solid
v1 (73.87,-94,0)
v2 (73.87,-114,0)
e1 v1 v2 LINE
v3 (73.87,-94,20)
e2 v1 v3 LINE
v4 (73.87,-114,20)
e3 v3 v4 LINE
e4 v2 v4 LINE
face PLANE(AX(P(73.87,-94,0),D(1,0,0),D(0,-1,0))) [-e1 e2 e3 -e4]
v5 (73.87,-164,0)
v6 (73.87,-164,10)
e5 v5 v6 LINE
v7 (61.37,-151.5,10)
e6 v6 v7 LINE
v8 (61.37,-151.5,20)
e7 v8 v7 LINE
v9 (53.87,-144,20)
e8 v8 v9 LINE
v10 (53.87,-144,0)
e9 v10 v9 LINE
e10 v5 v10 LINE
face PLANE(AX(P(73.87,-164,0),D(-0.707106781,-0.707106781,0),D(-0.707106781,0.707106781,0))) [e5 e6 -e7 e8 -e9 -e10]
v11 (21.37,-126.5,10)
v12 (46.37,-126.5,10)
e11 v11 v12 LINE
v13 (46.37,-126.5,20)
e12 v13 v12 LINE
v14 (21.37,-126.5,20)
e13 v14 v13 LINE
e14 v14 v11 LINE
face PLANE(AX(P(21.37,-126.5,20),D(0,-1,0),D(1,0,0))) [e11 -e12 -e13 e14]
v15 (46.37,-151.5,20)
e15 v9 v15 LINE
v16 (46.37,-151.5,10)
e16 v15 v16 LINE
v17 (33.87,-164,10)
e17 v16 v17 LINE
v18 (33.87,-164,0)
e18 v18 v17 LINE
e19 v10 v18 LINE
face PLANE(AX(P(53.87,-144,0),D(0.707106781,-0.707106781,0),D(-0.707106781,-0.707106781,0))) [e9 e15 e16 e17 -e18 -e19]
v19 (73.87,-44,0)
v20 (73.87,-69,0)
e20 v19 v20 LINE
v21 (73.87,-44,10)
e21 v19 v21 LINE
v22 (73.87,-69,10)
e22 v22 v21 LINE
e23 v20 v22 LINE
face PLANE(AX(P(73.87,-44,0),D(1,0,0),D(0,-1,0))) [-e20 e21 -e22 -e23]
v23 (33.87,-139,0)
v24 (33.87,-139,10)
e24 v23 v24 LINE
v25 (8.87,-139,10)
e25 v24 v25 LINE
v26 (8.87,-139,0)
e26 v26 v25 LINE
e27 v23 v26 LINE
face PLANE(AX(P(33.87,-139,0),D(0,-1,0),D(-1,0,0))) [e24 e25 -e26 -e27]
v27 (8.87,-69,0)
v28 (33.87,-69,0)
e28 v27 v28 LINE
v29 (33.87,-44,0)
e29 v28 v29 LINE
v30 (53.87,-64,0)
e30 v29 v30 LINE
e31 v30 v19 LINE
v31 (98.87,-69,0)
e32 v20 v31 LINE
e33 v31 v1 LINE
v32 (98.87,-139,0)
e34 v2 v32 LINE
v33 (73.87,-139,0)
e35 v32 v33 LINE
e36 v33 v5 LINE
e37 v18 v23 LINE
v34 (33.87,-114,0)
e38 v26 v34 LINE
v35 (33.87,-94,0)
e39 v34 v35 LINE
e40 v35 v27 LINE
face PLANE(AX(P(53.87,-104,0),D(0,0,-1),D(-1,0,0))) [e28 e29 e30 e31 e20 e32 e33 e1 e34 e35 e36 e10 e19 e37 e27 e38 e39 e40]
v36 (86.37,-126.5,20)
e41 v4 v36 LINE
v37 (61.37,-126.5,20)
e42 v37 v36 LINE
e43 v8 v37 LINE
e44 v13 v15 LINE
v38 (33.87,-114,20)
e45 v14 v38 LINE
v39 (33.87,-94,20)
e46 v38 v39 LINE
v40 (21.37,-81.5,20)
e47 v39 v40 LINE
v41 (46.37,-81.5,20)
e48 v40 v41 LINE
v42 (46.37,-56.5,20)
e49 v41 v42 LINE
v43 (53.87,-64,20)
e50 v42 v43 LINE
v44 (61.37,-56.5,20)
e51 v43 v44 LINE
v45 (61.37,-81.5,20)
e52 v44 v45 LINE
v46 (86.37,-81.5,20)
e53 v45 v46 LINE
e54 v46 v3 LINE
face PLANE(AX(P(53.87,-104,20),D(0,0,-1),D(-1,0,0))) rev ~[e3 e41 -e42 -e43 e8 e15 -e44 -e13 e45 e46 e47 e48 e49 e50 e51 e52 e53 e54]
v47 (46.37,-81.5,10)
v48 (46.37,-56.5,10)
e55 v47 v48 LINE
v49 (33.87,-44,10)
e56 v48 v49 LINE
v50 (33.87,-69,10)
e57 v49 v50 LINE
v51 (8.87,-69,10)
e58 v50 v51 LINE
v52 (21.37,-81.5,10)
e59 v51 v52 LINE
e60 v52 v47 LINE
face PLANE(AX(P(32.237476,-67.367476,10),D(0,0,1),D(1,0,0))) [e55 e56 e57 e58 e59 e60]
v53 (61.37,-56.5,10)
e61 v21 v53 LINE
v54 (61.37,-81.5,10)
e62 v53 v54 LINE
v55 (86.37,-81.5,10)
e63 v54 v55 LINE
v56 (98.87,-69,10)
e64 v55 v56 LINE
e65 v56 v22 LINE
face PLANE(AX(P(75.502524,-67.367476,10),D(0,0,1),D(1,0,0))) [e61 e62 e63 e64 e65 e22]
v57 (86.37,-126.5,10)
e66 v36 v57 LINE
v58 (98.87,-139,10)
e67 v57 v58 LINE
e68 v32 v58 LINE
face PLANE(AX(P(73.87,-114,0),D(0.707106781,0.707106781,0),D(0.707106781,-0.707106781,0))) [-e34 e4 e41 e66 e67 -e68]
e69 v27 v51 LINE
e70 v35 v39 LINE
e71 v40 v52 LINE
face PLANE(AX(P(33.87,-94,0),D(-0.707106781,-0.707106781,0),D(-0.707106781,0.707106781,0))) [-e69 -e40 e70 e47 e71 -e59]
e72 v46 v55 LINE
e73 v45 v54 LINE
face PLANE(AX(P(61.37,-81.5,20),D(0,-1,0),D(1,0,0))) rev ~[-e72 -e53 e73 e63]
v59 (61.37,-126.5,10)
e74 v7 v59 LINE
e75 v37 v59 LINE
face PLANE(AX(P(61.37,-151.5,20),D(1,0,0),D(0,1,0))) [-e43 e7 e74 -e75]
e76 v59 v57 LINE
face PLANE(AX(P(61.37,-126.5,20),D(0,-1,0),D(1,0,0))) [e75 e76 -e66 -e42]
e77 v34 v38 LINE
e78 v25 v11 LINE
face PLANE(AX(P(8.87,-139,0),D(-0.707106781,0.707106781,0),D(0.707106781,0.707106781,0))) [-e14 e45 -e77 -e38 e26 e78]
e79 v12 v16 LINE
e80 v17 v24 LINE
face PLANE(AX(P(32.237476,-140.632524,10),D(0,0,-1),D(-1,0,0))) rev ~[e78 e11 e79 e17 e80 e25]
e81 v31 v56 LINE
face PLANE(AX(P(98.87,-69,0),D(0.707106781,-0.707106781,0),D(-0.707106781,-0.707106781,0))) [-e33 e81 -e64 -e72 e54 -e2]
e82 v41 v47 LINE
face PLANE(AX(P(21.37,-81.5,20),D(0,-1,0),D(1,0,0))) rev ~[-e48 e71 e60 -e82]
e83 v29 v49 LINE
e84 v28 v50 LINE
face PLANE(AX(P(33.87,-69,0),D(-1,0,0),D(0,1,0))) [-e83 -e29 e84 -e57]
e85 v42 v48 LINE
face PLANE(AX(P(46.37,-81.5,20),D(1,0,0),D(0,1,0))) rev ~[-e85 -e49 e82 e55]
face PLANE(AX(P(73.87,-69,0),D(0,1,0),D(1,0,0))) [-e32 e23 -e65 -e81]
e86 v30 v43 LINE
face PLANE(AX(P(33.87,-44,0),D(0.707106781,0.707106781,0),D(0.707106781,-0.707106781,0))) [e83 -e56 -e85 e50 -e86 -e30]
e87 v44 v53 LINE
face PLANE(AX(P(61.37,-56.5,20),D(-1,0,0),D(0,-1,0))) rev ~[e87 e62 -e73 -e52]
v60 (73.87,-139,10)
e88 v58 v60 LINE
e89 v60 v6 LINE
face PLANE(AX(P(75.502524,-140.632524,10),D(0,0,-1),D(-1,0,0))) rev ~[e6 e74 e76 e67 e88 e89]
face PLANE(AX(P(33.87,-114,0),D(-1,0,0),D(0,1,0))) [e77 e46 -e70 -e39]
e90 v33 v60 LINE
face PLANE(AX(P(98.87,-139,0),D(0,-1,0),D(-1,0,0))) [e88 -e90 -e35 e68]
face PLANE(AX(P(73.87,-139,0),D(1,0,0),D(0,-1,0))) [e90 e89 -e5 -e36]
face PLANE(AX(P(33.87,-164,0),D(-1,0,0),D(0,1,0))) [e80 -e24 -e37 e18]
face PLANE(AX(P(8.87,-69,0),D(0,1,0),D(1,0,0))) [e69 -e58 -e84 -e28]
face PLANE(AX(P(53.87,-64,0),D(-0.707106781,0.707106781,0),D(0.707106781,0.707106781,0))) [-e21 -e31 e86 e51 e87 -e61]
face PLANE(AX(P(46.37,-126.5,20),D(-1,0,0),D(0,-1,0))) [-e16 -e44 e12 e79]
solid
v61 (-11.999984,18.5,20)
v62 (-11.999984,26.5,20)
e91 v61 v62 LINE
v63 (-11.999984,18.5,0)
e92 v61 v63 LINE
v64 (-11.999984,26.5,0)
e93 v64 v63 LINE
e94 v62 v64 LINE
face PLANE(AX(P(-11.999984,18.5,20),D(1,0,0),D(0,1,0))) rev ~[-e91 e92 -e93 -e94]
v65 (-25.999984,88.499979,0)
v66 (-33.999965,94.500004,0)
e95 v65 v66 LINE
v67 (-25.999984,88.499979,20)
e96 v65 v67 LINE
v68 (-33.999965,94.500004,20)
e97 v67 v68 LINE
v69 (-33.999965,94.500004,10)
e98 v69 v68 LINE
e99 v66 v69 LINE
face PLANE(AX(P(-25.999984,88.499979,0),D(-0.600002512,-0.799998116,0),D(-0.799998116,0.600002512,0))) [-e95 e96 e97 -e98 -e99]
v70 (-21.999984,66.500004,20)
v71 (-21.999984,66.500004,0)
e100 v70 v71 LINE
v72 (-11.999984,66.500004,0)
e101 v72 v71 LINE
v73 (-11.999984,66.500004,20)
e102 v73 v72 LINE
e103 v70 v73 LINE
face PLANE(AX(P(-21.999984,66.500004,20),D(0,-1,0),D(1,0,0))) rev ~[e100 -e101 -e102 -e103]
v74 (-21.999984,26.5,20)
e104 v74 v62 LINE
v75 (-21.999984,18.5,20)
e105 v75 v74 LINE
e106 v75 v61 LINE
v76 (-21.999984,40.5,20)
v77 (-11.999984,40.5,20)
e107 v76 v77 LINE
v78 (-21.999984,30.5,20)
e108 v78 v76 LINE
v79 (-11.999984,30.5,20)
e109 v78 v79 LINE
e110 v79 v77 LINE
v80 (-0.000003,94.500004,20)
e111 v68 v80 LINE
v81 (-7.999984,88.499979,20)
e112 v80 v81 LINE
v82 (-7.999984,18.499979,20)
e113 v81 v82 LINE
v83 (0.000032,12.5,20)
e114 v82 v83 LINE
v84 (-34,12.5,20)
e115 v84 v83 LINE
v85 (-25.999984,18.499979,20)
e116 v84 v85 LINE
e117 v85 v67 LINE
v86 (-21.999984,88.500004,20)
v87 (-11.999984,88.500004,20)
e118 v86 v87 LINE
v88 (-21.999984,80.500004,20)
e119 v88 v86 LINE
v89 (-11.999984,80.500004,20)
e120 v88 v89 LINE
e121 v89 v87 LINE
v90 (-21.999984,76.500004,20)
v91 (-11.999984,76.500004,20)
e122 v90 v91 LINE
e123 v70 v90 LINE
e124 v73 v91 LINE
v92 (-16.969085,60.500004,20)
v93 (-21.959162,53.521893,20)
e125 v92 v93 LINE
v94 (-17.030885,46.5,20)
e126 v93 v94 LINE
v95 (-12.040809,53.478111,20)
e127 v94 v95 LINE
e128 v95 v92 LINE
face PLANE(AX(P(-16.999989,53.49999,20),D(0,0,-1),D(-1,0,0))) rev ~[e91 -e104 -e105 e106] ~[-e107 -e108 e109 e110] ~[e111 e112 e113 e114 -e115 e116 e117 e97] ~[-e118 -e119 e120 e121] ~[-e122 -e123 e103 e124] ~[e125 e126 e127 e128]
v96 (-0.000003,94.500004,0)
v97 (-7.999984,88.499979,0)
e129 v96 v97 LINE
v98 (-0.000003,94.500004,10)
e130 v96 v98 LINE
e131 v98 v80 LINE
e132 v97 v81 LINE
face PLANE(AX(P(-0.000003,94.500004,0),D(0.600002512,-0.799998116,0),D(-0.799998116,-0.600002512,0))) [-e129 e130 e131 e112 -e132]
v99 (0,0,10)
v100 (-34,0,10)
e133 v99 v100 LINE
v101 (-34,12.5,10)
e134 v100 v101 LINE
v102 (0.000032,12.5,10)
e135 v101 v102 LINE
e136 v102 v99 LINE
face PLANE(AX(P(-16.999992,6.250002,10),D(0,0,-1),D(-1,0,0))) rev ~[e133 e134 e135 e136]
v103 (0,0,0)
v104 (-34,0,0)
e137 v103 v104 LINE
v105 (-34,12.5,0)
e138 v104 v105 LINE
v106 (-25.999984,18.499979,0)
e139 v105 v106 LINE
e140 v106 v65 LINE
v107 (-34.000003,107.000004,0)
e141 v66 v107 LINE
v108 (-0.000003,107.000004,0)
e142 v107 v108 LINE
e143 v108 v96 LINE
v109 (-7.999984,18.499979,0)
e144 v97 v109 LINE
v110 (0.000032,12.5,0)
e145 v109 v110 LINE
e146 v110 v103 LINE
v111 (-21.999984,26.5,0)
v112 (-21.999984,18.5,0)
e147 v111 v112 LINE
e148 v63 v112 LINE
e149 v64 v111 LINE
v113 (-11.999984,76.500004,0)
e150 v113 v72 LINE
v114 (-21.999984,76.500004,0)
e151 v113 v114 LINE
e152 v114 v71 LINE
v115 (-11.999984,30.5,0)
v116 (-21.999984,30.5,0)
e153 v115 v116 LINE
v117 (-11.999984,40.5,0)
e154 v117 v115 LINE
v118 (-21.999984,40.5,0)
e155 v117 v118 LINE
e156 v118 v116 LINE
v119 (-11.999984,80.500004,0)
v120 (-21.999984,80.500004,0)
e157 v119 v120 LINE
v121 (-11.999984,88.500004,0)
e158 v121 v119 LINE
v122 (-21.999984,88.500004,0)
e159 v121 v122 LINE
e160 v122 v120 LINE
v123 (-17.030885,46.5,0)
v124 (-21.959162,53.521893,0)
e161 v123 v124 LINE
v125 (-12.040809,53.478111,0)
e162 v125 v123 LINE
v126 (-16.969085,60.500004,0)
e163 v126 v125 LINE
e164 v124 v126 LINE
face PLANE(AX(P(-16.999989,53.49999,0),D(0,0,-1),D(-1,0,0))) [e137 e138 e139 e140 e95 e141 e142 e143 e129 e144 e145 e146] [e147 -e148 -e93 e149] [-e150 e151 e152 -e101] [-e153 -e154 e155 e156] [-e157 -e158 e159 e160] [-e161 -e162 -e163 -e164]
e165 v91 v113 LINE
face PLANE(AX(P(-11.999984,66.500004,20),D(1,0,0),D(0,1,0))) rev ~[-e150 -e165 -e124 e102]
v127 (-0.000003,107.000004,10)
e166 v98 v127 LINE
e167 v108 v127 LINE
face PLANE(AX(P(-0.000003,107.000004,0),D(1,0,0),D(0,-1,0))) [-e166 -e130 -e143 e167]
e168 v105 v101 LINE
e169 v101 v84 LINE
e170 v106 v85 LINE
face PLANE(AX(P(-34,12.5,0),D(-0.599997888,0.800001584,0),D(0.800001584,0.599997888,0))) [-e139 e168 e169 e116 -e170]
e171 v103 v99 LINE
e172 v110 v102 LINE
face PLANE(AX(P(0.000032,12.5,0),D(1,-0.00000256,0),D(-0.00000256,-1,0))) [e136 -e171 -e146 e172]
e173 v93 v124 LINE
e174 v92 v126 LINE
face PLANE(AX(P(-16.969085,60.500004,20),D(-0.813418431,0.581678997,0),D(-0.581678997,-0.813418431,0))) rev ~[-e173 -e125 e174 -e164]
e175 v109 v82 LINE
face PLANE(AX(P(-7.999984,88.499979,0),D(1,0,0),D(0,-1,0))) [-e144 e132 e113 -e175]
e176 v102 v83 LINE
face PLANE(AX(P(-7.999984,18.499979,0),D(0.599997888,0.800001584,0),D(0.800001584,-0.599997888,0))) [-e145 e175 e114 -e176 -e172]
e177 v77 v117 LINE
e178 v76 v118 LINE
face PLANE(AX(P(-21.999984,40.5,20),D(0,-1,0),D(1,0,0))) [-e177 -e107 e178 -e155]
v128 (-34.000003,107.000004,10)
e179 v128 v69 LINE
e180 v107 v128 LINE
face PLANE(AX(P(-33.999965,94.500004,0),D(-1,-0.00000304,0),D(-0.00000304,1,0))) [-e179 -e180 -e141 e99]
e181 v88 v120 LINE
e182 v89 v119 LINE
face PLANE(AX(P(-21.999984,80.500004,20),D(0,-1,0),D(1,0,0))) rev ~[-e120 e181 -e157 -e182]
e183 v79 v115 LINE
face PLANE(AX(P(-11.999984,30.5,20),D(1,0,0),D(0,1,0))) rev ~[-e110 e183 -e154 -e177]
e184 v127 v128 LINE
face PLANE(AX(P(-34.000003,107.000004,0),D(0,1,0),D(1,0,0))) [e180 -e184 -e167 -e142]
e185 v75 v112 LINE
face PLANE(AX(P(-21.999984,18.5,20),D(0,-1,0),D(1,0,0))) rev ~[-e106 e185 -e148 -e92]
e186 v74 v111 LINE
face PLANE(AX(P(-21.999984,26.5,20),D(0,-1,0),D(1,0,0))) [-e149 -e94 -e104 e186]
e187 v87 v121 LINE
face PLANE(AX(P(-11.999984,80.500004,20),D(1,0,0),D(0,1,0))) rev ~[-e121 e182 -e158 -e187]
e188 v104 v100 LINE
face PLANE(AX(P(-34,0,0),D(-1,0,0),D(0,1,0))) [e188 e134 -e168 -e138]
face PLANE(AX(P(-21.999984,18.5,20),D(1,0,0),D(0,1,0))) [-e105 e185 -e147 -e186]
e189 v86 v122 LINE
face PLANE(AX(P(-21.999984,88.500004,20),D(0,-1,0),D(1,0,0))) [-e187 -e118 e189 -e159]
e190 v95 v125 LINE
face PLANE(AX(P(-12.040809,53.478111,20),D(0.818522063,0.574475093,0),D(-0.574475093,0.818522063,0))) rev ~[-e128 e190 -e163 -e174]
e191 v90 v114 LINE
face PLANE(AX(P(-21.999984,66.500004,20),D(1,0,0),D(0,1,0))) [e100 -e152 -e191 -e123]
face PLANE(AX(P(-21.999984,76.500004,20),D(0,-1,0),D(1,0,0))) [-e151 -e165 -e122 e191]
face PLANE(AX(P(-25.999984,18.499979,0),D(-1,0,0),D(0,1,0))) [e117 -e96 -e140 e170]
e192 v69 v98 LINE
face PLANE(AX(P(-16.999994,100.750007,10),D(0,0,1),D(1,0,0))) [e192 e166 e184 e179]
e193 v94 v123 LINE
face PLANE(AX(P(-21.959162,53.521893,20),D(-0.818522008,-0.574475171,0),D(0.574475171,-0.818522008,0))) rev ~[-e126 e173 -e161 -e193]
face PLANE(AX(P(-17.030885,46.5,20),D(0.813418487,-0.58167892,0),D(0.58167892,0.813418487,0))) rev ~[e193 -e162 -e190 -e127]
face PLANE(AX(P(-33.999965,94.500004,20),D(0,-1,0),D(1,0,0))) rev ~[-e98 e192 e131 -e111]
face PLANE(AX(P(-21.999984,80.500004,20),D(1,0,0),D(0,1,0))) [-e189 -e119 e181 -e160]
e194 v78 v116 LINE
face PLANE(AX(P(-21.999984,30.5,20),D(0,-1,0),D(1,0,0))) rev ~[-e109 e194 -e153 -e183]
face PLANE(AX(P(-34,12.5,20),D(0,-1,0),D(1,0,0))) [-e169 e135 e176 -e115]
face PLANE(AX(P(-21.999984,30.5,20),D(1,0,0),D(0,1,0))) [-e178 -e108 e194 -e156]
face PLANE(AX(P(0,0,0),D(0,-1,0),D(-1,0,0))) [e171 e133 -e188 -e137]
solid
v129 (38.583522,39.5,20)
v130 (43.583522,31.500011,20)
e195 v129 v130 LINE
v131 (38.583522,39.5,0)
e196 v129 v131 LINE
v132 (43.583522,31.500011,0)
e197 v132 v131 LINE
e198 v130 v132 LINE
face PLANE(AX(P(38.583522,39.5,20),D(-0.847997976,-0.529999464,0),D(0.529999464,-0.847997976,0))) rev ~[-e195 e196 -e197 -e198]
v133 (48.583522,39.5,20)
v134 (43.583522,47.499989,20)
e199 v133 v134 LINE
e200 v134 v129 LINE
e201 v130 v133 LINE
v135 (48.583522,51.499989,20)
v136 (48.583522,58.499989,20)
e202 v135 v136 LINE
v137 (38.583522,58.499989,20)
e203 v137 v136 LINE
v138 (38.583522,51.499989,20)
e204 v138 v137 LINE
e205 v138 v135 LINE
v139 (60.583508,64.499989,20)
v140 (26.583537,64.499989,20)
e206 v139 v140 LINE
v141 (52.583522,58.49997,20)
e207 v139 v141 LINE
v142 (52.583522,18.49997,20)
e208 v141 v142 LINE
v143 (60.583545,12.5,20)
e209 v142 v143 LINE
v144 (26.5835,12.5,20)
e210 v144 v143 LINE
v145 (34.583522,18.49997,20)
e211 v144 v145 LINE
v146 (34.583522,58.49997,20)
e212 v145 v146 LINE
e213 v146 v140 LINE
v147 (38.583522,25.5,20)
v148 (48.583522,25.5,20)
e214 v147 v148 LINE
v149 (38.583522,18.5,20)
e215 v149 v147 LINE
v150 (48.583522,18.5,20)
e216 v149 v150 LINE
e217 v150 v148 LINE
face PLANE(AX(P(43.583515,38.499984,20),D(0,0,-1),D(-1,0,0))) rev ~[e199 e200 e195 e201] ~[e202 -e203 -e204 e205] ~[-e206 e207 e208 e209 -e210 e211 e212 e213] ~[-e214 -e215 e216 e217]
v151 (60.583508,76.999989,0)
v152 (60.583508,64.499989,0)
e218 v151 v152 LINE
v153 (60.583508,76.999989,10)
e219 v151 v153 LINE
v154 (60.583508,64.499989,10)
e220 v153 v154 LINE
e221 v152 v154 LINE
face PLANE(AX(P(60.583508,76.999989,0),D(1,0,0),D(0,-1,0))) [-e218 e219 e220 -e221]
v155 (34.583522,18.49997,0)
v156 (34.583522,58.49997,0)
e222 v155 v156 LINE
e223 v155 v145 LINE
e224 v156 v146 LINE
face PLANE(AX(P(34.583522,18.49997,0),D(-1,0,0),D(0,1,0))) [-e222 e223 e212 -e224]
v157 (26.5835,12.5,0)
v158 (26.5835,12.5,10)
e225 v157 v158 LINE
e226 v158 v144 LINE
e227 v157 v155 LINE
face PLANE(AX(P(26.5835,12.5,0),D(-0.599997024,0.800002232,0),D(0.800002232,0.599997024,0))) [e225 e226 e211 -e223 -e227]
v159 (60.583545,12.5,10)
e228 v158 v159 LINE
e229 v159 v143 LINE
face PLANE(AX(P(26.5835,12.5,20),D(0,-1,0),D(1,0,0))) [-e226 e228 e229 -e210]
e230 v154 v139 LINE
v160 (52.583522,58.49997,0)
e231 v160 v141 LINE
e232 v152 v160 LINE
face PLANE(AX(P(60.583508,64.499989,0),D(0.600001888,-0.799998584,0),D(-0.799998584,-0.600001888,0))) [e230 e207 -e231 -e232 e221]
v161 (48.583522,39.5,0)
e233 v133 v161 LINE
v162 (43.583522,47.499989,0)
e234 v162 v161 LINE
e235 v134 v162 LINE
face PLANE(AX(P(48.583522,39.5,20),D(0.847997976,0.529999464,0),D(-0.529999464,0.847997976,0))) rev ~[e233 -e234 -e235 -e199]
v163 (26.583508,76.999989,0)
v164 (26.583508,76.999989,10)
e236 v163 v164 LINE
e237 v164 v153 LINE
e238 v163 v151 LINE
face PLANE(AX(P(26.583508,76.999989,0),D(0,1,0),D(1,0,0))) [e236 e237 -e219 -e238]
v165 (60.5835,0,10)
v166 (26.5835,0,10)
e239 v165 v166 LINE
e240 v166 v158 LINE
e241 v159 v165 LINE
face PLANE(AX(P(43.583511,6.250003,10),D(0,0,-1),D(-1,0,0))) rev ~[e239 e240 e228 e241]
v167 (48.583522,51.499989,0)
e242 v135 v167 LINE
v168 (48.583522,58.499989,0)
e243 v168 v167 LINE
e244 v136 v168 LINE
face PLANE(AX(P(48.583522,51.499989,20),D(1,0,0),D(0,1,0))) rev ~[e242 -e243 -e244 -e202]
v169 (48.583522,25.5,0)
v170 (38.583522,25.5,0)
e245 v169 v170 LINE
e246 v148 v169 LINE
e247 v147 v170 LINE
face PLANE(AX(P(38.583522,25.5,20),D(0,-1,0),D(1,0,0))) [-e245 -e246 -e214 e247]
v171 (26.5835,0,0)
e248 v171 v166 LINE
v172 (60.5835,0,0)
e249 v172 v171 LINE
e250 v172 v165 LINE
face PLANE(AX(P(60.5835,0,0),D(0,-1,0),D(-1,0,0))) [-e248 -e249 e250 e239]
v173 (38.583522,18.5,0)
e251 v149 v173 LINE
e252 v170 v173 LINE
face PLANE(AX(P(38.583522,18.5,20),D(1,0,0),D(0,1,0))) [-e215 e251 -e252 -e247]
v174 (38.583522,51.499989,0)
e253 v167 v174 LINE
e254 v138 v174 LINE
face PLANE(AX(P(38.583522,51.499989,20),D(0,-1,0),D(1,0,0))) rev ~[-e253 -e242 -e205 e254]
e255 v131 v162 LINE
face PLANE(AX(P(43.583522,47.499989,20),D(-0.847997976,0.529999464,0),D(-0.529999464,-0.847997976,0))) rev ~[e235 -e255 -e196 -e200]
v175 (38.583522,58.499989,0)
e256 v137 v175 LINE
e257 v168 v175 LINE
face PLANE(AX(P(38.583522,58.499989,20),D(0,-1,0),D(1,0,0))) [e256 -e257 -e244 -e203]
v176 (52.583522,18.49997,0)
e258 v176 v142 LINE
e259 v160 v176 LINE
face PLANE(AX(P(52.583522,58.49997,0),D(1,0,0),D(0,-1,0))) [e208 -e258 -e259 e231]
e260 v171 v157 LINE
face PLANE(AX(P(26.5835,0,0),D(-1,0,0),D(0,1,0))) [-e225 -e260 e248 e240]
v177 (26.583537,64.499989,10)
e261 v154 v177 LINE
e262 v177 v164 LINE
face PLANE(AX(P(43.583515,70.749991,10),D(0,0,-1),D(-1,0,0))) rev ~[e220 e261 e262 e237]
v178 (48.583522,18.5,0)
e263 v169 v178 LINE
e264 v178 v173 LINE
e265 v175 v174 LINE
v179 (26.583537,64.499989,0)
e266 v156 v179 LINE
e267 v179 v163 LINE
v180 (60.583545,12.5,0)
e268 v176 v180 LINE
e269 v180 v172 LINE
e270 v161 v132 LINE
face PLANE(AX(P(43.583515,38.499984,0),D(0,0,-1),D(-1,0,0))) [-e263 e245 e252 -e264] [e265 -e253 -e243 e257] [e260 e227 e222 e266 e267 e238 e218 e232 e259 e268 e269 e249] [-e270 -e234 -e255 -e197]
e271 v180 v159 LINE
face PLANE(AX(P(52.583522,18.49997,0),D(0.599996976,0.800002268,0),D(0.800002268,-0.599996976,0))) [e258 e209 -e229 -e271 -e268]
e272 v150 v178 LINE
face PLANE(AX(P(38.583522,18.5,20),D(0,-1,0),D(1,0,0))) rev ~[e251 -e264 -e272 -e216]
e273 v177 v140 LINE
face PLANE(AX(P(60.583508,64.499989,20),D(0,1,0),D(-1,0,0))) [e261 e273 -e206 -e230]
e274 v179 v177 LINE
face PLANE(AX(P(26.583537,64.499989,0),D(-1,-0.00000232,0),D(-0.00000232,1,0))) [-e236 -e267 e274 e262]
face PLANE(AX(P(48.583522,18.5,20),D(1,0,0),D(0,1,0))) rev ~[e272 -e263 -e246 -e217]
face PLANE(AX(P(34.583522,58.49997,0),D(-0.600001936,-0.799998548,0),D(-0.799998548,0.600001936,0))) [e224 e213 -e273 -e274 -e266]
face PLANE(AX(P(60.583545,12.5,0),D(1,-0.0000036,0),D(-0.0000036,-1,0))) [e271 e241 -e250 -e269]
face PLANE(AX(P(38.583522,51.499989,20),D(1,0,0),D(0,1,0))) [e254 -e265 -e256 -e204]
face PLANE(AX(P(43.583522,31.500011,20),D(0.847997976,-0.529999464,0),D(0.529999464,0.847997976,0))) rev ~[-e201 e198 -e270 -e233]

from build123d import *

# Parameters (mm, degrees)
PAD_DEPTH       = 20
POCKET_DEPTH    = 10
POCKET001_DEPTH = 10
SKETCH008_W     = 10
SKETCH008_H     = 8
SKETCH008_H_2   = 10
POCKET007_DEPTH = 20.001
PAD001_DEPTH    = 20
POCKET002_DEPTH = 10
SKETCH009_W     = 10
SKETCH009_H     = 7
POCKET006_DEPTH = 20.001
PAD002_DEPTH    = 20
POCKET003_DEPTH = 10
POCKET004_DEPTH = 10


with BuildPart() as body:
    # Sketch → Pad (new body)
    with BuildSketch(Plane.XY):
        Polygon((-34.000003, 107.000004), (-3e-06, 107.000004), (-3e-06, 94.500004), (-7.999984, 88.499979), (-7.999984, 18.499979), (3.2e-05, 12.5), (0, 0), (-34, 0), (-34, 12.5), (-25.999984, 18.499979), (-25.999984, 88.499979), (-33.999965, 94.500004), align=None)
    extrude(amount=PAD_DEPTH)

    # Sketch003 (on Face14 of Pad) → Pocket (cut)
    with BuildSketch(Plane.XY.offset(20)):
        Polygon((-34, 12.5), (3.2e-05, 12.5), (0, 0), (-34, 0), align=None)
    extrude(amount=-POCKET_DEPTH, mode=Mode.SUBTRACT)

    # Sketch004 (on Face5 of Pocket) → Pocket001 (cut)
    with BuildSketch(Plane.XY.offset(20)):
        Polygon((-33.999965, 94.500004), (-3e-06, 94.500004), (-3e-06, 107.000004), (-34.000003, 107.000004), align=None)
    extrude(amount=-POCKET001_DEPTH, mode=Mode.SUBTRACT)

    # Sketch008 (on Face16 of Pocket001) → Pocket007 (cut, through all)
    with BuildSketch(Plane.XY.offset(20)):
        with Locations((-16.999984, 84.500004)):
            Rectangle(SKETCH008_W, SKETCH008_H)
        with Locations((-16.999984, 22.5)):
            Rectangle(SKETCH008_W, SKETCH008_H)
        with Locations((-16.999984, 35.5)):
            Rectangle(SKETCH008_W, SKETCH008_H_2)
        with Locations((-16.999984, 71.500004)):
            Rectangle(SKETCH008_W, SKETCH008_H_2)
        Polygon((-16.969085, 60.500004), (-21.959162, 53.521893), (-17.030885, 46.5), (-12.040809, 53.478111), align=None)
    extrude(amount=-POCKET007_DEPTH, mode=Mode.SUBTRACT)


with BuildPart() as i2_4cm:
    # Sketch001 → Pad001 (new body)
    with BuildSketch(Plane.XY):
        Polygon((-33.999992, 76.999989), (8e-06, 76.999989), (8e-06, 64.499989), (-7.999978, 58.49997), (-7.999978, 18.49997), (4.5e-05, 12.5), (0, 0), (-34, 0), (-34, 12.5), (-25.999978, 18.49997), (-25.999978, 58.49997), (-33.999963, 64.499989), align=None)
    extrude(amount=PAD001_DEPTH)

    # Sketch005 (on Face14 of Pad001) → Pocket002 (cut)
    with BuildSketch(Plane.XY.offset(20)):
        Polygon((-34, 12.5), (4.5e-05, 12.5), (0, 0), (-34, 0), align=None)
        Polygon((-33.999963, 64.499989), (-33.999992, 76.999989), (8e-06, 76.999989), (8e-06, 64.499989), align=None)
    extrude(amount=-POCKET002_DEPTH, mode=Mode.SUBTRACT)

    # Sketch009 (on Face16 of Pocket002) → Pocket006 (cut, through all)
    with BuildSketch(Plane.XY.offset(20)):
        with Locations((-16.999978, 54.999989)):
            Rectangle(SKETCH009_W, SKETCH009_H)
        with Locations((-16.999978, 22)):
            Rectangle(SKETCH009_W, SKETCH009_H)
        Polygon((-21.999978, 39.5), (-16.999978, 31.500011), (-11.999978, 39.5), (-16.999978, 47.499989), align=None)
    extrude(amount=-POCKET006_DEPTH, mode=Mode.SUBTRACT)


with BuildPart() as i2_4cm_1:
    # Body001 placement: moved
    add(i2_4cm.part.moved(Location((60.5835, 0, 0))))


with BuildPart() as star:
    # Sketch002 → Pad002 (new body)
    with BuildSketch(Plane.XY):
        Polygon((33.87, -44), (53.87, -64), (73.87, -44), (73.87, -69), (98.87, -69), (73.87, -94), (73.87, -114), (98.87, -139), (73.87, -139), (73.87, -164), (53.87, -144), (33.87, -164), (33.87, -139), (8.87, -139), (33.87, -114), (33.87, -94), (8.87, -69), (33.87, -69), align=None)
    extrude(amount=PAD002_DEPTH)

    # Sketch006 (on Face20 of Pad002) → Pocket003 (cut)
    with BuildSketch(Plane.XY.offset(20)):
        Polygon((21.37, -126.5), (46.37, -126.5), (46.37, -151.5), (33.87, -164), (33.87, -139), (8.87, -139), align=None)
        Polygon((21.37, -81.5), (46.37, -81.5), (46.37, -56.5), (33.87, -44), (33.87, -69), (8.87, -69), align=None)
        Polygon((73.87, -44), (61.37, -56.5), (61.37, -81.5), (86.37, -81.5), (98.87, -69), (73.87, -69), align=None)
    extrude(amount=-POCKET003_DEPTH, mode=Mode.SUBTRACT)

    # Sketch007 (on Face23 of Pocket003) → Pocket004 (cut)
    with BuildSketch(Plane.XY.offset(20)):
        Polygon((61.37, -151.5), (61.37, -126.5), (86.37, -126.5), (98.87, -139), (73.87, -139), (73.87, -164), align=None)
    extrude(amount=-POCKET004_DEPTH, mode=Mode.SUBTRACT)


solid = Compound([body.part, i2_4cm_1.part, star.part])
